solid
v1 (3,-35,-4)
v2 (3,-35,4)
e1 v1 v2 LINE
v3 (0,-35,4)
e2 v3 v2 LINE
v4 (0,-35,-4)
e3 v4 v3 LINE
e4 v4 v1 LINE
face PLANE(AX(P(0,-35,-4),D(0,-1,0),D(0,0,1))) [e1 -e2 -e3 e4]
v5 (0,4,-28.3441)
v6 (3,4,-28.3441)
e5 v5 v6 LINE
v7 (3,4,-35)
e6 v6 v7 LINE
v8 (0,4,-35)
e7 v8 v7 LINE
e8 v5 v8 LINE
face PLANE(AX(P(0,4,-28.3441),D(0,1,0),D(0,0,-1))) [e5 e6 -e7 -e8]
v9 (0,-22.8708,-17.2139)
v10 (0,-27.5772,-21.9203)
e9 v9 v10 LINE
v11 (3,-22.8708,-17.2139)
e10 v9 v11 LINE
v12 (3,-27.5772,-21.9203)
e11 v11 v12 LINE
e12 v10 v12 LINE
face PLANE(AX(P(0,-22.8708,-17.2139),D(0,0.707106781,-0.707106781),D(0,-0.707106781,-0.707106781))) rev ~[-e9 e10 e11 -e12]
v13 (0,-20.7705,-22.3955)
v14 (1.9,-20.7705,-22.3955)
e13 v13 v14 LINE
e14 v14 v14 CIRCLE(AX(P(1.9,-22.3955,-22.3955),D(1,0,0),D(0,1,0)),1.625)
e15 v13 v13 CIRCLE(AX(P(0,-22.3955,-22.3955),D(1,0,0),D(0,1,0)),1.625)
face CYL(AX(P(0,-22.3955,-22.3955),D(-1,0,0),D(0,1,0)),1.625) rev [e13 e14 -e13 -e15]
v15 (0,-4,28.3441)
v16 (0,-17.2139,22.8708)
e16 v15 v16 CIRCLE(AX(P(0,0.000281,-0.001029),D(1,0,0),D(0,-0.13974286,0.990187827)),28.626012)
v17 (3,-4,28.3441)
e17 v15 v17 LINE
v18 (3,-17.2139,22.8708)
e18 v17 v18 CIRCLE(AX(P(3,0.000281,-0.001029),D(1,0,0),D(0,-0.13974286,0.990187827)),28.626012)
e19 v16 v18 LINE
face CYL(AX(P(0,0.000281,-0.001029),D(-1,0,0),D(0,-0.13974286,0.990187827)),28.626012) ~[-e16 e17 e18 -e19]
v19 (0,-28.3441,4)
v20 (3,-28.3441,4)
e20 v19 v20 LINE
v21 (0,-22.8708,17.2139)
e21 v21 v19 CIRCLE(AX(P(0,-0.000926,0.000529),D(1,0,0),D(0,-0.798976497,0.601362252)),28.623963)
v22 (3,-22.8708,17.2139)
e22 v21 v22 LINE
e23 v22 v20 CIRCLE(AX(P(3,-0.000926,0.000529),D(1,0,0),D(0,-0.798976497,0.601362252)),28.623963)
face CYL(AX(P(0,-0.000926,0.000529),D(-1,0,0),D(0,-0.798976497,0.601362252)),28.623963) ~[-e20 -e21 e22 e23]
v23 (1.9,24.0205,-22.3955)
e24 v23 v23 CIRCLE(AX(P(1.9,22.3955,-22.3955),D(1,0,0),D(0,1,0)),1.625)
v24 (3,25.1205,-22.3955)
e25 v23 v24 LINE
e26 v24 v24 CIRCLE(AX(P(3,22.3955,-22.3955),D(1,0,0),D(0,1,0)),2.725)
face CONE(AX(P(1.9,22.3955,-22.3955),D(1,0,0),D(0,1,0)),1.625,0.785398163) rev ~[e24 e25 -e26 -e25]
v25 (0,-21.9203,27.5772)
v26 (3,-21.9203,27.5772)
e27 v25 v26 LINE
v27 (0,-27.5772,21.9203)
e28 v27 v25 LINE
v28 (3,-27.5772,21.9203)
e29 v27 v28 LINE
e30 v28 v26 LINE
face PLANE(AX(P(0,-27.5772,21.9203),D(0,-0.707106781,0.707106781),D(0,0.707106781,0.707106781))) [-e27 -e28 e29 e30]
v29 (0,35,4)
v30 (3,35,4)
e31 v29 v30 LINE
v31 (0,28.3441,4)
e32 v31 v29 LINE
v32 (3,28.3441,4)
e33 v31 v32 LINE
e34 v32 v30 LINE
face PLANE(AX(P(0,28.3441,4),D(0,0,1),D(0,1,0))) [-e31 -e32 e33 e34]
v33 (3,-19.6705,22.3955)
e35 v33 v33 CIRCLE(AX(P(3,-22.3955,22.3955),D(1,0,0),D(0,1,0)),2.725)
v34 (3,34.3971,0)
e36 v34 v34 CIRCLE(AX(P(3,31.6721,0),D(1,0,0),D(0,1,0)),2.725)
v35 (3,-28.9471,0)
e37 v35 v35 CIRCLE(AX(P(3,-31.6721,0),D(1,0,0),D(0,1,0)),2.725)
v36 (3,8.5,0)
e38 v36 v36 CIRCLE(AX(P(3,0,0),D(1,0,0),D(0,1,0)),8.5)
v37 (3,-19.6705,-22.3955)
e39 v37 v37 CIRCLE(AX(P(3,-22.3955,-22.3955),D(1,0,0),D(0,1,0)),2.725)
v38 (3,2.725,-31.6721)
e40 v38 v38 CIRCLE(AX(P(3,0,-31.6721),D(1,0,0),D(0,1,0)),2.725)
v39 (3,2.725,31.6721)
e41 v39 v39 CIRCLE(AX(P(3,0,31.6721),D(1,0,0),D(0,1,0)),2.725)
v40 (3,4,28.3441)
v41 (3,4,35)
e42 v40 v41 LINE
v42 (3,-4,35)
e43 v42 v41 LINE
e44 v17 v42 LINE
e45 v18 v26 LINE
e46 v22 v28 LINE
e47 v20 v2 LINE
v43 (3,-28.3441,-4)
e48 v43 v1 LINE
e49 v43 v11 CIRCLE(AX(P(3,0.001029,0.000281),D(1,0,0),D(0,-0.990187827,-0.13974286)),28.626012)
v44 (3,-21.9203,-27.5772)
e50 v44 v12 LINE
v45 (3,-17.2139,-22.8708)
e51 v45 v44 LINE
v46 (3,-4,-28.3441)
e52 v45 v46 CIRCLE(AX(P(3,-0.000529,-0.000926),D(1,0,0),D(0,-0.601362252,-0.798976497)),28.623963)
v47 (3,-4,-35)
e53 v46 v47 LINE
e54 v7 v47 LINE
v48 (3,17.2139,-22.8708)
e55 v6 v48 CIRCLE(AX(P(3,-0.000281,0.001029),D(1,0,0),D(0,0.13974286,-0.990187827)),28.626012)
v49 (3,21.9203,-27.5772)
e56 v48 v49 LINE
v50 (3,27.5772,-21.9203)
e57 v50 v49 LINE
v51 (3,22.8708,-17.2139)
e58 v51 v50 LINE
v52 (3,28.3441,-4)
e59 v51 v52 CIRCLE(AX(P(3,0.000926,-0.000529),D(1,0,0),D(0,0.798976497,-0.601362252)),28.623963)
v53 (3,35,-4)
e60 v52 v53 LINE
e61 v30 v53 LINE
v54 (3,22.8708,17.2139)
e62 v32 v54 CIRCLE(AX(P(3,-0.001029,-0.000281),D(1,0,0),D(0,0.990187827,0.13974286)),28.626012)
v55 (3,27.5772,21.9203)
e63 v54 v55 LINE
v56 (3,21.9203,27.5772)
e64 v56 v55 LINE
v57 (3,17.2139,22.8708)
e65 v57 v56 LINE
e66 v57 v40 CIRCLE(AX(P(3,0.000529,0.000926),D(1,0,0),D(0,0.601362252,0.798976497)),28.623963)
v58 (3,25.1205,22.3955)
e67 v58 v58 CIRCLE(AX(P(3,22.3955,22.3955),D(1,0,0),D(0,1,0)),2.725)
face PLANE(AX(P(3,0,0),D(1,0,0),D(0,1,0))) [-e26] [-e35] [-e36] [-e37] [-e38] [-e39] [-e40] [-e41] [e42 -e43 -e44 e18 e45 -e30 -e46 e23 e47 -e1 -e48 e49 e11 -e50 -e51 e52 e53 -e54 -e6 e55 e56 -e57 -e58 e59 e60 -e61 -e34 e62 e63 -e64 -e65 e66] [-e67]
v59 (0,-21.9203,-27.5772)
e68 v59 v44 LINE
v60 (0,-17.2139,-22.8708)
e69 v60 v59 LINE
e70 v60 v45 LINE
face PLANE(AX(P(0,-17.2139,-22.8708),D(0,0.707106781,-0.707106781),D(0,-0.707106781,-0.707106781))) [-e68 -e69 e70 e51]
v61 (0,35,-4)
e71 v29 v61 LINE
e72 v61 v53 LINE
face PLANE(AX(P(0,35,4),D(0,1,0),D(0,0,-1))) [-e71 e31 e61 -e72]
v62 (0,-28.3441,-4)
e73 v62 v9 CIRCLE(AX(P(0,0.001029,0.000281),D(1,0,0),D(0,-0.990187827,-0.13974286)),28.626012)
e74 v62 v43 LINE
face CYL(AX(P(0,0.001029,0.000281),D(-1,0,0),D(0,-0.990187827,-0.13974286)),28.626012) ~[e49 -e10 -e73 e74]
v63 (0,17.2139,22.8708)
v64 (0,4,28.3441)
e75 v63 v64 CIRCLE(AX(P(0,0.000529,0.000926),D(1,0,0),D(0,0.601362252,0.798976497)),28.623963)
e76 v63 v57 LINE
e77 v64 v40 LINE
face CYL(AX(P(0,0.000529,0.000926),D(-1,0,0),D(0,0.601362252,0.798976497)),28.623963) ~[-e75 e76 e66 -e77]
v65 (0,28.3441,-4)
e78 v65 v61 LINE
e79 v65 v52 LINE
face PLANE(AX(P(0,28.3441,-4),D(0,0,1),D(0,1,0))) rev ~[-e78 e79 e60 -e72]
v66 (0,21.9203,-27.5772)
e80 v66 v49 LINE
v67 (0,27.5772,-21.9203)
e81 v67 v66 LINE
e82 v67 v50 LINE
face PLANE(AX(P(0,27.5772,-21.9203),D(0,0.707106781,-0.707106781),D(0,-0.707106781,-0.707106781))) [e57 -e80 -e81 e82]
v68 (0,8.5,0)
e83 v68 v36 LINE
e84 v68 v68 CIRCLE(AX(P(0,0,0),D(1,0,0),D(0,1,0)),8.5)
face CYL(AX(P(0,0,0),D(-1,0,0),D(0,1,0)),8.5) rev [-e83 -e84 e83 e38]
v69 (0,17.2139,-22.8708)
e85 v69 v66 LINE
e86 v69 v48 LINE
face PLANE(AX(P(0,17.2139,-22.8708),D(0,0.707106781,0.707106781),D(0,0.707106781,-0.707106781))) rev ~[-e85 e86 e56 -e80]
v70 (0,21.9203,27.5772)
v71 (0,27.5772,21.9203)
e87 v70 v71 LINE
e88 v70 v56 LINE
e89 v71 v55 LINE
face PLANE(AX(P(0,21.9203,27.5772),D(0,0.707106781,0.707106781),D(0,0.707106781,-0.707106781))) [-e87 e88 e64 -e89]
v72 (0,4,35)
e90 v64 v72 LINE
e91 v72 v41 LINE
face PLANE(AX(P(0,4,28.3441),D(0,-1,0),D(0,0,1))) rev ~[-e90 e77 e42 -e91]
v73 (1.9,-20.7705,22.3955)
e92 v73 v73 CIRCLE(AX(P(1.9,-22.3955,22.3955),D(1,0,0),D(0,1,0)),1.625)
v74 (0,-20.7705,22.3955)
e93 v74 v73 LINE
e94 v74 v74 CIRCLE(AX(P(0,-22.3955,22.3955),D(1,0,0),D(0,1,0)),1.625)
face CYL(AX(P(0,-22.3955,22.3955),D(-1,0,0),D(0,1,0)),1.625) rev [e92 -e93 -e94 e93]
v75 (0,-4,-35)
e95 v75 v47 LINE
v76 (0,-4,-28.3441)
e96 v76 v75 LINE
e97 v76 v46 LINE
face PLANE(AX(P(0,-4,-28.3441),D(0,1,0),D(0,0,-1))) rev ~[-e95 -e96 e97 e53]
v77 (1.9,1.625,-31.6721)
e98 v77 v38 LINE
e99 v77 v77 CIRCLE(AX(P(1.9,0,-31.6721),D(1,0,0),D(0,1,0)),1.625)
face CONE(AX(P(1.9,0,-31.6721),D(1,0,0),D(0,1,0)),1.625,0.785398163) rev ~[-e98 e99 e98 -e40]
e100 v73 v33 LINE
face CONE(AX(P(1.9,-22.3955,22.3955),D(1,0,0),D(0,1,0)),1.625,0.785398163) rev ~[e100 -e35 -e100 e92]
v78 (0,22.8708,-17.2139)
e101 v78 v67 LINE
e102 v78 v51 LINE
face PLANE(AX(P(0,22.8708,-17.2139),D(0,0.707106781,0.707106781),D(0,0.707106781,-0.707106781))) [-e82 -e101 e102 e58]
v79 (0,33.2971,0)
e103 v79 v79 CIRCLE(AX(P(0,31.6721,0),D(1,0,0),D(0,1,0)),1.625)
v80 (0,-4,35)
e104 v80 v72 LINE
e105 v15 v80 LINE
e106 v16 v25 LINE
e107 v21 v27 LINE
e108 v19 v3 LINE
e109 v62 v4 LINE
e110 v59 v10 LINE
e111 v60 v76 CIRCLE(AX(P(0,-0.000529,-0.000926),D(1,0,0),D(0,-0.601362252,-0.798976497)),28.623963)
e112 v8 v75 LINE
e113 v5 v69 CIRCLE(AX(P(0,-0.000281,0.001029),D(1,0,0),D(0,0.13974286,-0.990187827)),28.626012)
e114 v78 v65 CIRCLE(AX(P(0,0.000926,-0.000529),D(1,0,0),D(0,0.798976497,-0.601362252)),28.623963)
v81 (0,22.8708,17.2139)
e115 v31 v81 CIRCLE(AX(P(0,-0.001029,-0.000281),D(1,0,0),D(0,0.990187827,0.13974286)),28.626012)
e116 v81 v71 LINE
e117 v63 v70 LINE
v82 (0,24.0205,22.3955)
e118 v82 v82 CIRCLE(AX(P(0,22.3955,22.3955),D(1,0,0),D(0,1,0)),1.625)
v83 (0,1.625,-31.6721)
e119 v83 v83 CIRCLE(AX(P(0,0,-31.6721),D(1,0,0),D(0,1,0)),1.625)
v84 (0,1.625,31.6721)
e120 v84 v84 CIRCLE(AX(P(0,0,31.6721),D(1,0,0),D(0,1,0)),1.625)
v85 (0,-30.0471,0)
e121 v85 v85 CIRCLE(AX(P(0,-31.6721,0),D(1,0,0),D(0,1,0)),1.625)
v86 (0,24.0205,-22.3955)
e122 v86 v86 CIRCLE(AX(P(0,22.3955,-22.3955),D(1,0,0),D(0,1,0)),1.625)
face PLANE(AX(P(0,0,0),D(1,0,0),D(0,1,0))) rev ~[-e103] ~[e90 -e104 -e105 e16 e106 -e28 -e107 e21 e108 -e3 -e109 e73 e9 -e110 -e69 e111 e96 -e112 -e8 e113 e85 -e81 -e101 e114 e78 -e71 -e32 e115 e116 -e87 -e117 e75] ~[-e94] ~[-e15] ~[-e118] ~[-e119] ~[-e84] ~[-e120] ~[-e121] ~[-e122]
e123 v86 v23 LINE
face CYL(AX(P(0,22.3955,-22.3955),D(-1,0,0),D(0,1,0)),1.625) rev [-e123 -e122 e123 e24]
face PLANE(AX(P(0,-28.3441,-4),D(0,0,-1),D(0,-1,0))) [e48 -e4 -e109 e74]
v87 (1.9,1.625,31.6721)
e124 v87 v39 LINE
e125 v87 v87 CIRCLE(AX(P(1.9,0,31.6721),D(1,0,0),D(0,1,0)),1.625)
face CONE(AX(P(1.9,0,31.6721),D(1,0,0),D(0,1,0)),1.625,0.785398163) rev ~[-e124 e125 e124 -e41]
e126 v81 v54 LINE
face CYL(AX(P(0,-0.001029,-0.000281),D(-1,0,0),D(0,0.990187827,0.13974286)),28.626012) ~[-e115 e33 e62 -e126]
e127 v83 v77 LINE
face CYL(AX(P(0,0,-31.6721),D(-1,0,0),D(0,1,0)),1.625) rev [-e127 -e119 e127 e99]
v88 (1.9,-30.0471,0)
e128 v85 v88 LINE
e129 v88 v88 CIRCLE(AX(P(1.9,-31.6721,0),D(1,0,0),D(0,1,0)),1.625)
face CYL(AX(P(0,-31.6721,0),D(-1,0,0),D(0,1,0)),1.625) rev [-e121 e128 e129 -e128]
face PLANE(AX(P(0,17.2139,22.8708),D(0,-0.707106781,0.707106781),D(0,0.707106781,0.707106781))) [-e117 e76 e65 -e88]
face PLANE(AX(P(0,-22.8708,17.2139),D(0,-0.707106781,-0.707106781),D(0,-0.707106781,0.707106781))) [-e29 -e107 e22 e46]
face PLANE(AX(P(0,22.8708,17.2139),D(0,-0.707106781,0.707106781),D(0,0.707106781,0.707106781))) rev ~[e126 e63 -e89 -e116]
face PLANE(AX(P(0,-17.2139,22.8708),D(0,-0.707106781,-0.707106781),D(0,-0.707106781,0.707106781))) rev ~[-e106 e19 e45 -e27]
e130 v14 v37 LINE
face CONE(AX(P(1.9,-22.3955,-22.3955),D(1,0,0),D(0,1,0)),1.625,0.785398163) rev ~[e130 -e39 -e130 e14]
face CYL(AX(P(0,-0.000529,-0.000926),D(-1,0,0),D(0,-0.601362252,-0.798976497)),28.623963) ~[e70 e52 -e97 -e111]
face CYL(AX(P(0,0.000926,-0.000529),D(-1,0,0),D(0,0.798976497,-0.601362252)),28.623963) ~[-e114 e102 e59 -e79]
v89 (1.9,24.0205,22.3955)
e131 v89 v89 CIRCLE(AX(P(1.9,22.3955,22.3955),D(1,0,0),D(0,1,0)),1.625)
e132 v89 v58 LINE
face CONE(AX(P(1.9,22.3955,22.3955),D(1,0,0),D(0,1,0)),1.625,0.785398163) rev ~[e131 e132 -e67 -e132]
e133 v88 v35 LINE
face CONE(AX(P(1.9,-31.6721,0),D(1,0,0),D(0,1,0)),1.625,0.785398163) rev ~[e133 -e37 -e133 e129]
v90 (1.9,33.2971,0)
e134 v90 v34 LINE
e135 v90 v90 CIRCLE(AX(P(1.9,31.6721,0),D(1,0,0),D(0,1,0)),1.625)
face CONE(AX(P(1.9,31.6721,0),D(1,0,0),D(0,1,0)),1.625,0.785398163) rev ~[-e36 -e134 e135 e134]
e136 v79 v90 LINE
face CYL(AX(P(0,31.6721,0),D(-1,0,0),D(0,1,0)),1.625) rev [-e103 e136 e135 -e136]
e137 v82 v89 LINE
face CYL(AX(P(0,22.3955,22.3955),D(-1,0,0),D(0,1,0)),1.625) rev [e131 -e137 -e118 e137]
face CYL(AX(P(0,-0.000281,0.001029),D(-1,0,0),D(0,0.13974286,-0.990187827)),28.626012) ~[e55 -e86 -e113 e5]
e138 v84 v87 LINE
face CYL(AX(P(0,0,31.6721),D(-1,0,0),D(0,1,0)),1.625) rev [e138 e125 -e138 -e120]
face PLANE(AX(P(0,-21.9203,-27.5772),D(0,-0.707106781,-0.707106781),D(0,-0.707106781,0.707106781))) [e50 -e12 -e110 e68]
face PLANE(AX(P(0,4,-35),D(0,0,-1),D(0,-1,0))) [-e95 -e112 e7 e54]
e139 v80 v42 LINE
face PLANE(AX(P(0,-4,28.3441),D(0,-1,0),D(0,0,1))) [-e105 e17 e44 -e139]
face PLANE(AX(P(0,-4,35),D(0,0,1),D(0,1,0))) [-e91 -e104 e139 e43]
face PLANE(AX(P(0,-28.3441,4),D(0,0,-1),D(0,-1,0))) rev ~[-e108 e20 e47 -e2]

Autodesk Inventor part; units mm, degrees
ref_plane "YZ Plane" through (0, 0, 0) normal (1, 0, 0) x (0, 1, 0)
ref_plane "XZ Plane" through (0, 0, 0) normal (0, 1, 0) x (-1, 0, 0)
ref_plane "XY Plane" through (0, 0, 0) normal (0, 0, 1) x (1, 0, 0)
sketch "Sketch1" plane through (0, 0, 0) normal (1, 0, 0) x (0, 1, 0)
  circle A0 centre (0, 0) radius 8.5
  line L0 (28.3441, -4) -> (35, -4)
  line L1 (35, 4) -> (35, -4)
  line L2 (28.3441, 4) -> (35, 4)
  circle A1 centre (31.6721, 0) radius 1.625
  line L3 (17.2139, 22.8708) -> (21.9203, 27.5772)
  line L4 (21.9203, 27.5772) -> (27.5772, 21.9203)
  circle A2 centre (22.3955, 22.3955) radius 1.625
  line L5 (22.8708, 17.2139) -> (27.5772, 21.9203)
  line L6 (-4, 28.3441) -> (-4, 35)
  line L7 (-4, 35) -> (4, 35)
  circle A3 centre (0, 31.6721) radius 1.625
  line L8 (4, 28.3441) -> (4, 35)
  line L9 (-22.8708, 17.2139) -> (-27.5772, 21.9203)
  line L10 (-27.5772, 21.9203) -> (-21.9203, 27.5772)
  circle A4 centre (-22.3955, 22.3955) radius 1.625
  line L11 (-17.2139, 22.8708) -> (-21.9203, 27.5772)
  line L12 (-28.3441, -4) -> (-35, -4)
  line L13 (-35, -4) -> (-35, 4)
  circle A5 centre (-31.6721, 0) radius 1.625
  line L14 (-28.3441, 4) -> (-35, 4)
  line L15 (-17.2139, -22.8708) -> (-21.9203, -27.5772)
  line L16 (-21.9203, -27.5772) -> (-27.5772, -21.9203)
  circle A6 centre (-22.3955, -22.3955) radius 1.625
  line L17 (-22.8708, -17.2139) -> (-27.5772, -21.9203)
  line L18 (4, -28.3441) -> (4, -35)
  line L19 (4, -35) -> (-4, -35)
  circle A7 centre (0, -31.6721) radius 1.625
  line L20 (-4, -28.3441) -> (-4, -35)
  line L21 (22.8708, -17.2139) -> (27.5772, -21.9203)
  line L22 (27.5772, -21.9203) -> (21.9203, -27.5772)
  circle A8 centre (22.3955, -22.3955) radius 1.625
  line L23 (17.2139, -22.8708) -> (21.9203, -27.5772)
  arc A9 (22.8708, -17.2139) -> (28.3441, -4) centre (0, 0) ccw
  arc A10 (4, -28.3441) -> (17.2139, -22.8708) centre (0, 0) ccw
  arc A11 (-17.2139, -22.8708) -> (-4, -28.3441) centre (0, 0) ccw
  arc A12 (-28.3441, -4) -> (-22.8708, -17.2139) centre (0, 0) ccw
  arc A13 (-22.8708, 17.2139) -> (-28.3441, 4) centre (0, 0) ccw
  arc A14 (-4, 28.3441) -> (-17.2139, 22.8708) centre (0, 0) ccw
  arc A15 (28.3441, 4) -> (22.8708, 17.2139) centre (0, 0) ccw
  arc A16 (17.2139, 22.8708) -> (4, 28.3441) centre (0, 0) ccw
  dimension "d0" = 17
  dimension "d8" = 360
  dimension "d12" = 3.25
extrude "Extrusion1" add sketch "Sketch1" along normal blind 3
sketch "Sketch2" plane through (3, 0, 0) normal (1, 0, 0) x (0, 0, -1)
  line L0 (-5.2542, 23.7941) -> (-5.2542, 26.8421)
  line L1 (-5.2542, 26.8421) -> (-2.9174, 26.8421)
  line L2 (-2.9174, 26.8421) -> (-2.9174, 26.5373)
  line L3 (-2.9174, 26.5373) -> (-4.9494, 26.5373)
  line L4 (-4.9494, 26.5373) -> (-4.9494, 25.5721)
  line L5 (-4.9494, 25.5721) -> (-2.9174, 25.5721)
  line L6 (-2.9174, 25.5721) -> (-2.9174, 25.2673)
  line L7 (-2.9174, 25.2673) -> (-4.9494, 25.2673)
  line L8 (-4.9494, 25.2673) -> (-4.9494, 23.7941)
  line L9 (-4.9494, 23.7941) -> (-5.2542, 23.7941)
  line L10 (-5.2034, 23.8449) -> (-5.2034, 26.7913)
  line L11 (-5.2034, 26.7913) -> (-2.9682, 26.7913)
  line L12 (-2.9682, 26.7913) -> (-2.9682, 26.5881)
  line L13 (-2.9682, 26.5881) -> (-5.0002, 26.5881)
  line L14 (-5.0002, 26.5881) -> (-5.0002, 25.5213)
  line L15 (-5.0002, 25.5213) -> (-2.9682, 25.5213)
  line L16 (-2.9682, 25.5213) -> (-2.9682, 25.3181)
  line L17 (-2.9682, 25.3181) -> (-5.0002, 25.3181)
  line L18 (-5.0002, 25.3181) -> (-5.0002, 23.8449)
  line L19 (-5.0002, 23.8449) -> (-5.2034, 23.8449)
  line L20 (-5.1526, 23.8957) -> (-5.1526, 26.7405)
  line L21 (-5.1526, 26.7405) -> (-3.019, 26.7405)
  line L22 (-3.019, 26.7405) -> (-3.019, 26.6389)
  line L23 (-3.019, 26.6389) -> (-5.051, 26.6389)
  line L24 (-5.051, 26.6389) -> (-5.051, 25.4705)
  line L25 (-5.051, 25.4705) -> (-3.019, 25.4705)
  line L26 (-3.019, 25.4705) -> (-3.019, 25.3689)
  line L27 (-3.019, 25.3689) -> (-5.051, 25.3689)
  line L28 (-5.051, 25.3689) -> (-5.051, 23.8957)
  line L29 (-5.051, 23.8957) -> (-5.1526, 23.8957)
  line L30 (-5.1018, 23.9465) -> (-5.1018, 26.6897)
  line L31 (-5.1018, 26.6897) -> (-3.0698, 26.6897)
  line L32 (-3.0698, 25.4197) -> (-5.1018, 25.4197)
  line L33 (-2.511, 23.7941) -> (-2.511, 26.0293)
  line L34 (-2.511, 26.0293) -> (-2.2062, 26.0293)
  line L35 (-2.2062, 26.0293) -> (-2.2062, 25.6737)
  arc A0 (-1.3889, 26.0291) -> (-2.2062, 25.6737) centre (-1.3889, 24.9115) ccw
  line L36 (-1.3889, 26.0291) -> (-1.0841, 26.0291)
  line L37 (-1.0841, 26.0291) -> (-1.0841, 25.7243)
  line L38 (-1.0841, 25.7243) -> (-1.3889, 25.7243)
  arc A1 (-1.3889, 25.7243) -> (-2.2017, 24.9115) centre (-1.3889, 24.9115) ccw
  line L39 (-2.2017, 24.9115) -> (-2.2017, 23.7939)
  line L40 (-2.2017, 23.7939) -> (-2.5065, 23.7939)
  line L41 (-2.4557, 23.8447) -> (-2.4557, 24.9115)
  arc A2 (-1.3889, 25.9783) -> (-2.4557, 24.9115) centre (-1.3889, 24.9115) ccw
  line L42 (-1.3889, 25.9783) -> (-1.1349, 25.9783)
  line L43 (-1.1349, 25.9783) -> (-1.1349, 25.7751)
  line L44 (-1.1349, 25.7751) -> (-1.3889, 25.7751)
  arc A3 (-1.3889, 25.7751) -> (-2.2525, 24.9115) centre (-1.3889, 24.9115) ccw
  line L45 (-2.2525, 24.9115) -> (-2.2525, 23.8447)
  line L46 (-2.2525, 23.8447) -> (-2.4557, 23.8447)
  line L47 (-2.4049, 23.8955) -> (-2.4049, 24.9115)
  arc A4 (-1.3889, 25.9275) -> (-2.4049, 24.9115) centre (-1.3889, 24.9115) ccw
  line L48 (-1.3889, 25.9275) -> (-1.1857, 25.9275)
  line L49 (-1.1857, 25.9275) -> (-1.1857, 25.8259)
  line L50 (-1.1857, 25.8259) -> (-1.3889, 25.8259)
  arc A5 (-1.3889, 25.8259) -> (-2.3033, 24.9115) centre (-1.3889, 24.9115) ccw
  line L51 (-2.3033, 24.9115) -> (-2.3033, 23.8955)
  line L52 (-2.3033, 23.8955) -> (-2.4049, 23.8955)
  line L53 (-2.3541, 23.9463) -> (-2.3541, 24.9115)
  arc A6 (-1.3889, 25.8767) -> (-2.3541, 24.9115) centre (-1.3889, 24.9115) ccw
  line L54 (-1.3889, 25.8767) -> (-1.2365, 25.8767)
  line L55 (-2.4557, 24.9115) -> (-2.4557, 25.9783)
  line L56 (-2.4557, 25.9783) -> (-2.2525, 25.9783)
  line L57 (-2.2525, 25.9783) -> (-2.2525, 25.5211)
  line L58 (-2.3033, 25.4703) -> (-2.3033, 25.9275)
  line L59 (-2.3033, 25.9275) -> (-2.4049, 25.9275)
  line L60 (-2.4049, 25.9275) -> (-2.4049, 25.2163)
  line L61 (-2.3541, 25.3687) -> (-2.3541, 25.8767)
  circle A7 centre (0.4399, 24.9115) radius 1.1176
  circle A8 centre (0.4399, 24.9115) radius 0.8128
  circle A9 centre (0.4399, 24.9115) radius 0.8636
  circle A10 centre (0.4399, 24.9115) radius 0.9144
  circle A11 centre (0.4399, 24.9115) radius 0.9652
  circle A12 centre (0.4399, 24.9115) radius 1.016
  circle A13 centre (0.4399, 24.9115) radius 1.0668
  line L62 (1.9639, 23.7939) -> (1.9639, 26.0291)
  line L63 (1.9639, 26.0291) -> (2.2687, 26.0291)
  line L64 (2.2687, 26.0291) -> (2.2687, 25.8005)
  arc A14 (3.795, 25.121) -> (2.2687, 25.8005) centre (2.8806, 25.121) ccw
  line L65 (3.795, 25.121) -> (3.795, 23.8002)
  line L66 (3.795, 23.8002) -> (3.4902, 23.8002)
  line L67 (3.4902, 23.8002) -> (3.4902, 25.121)
  arc A15 (3.4902, 25.121) -> (2.271, 25.121) centre (2.8806, 25.121) ccw
  line L68 (2.271, 25.121) -> (2.271, 23.8002)
  line L69 (2.271, 23.8002) -> (1.9662, 23.8002)
  line L70 (2.017, 23.851) -> (2.017, 25.121)
  arc A16 (3.7442, 25.121) -> (2.017, 25.121) centre (2.8806, 25.121) ccw
  line L71 (3.7442, 25.121) -> (3.7442, 23.851)
  line L72 (3.7442, 23.851) -> (3.541, 23.851)
  line L73 (3.541, 23.851) -> (3.541, 25.121)
  arc A17 (3.541, 25.121) -> (2.2202, 25.121) centre (2.8806, 25.121) ccw
  line L74 (2.2202, 25.121) -> (2.2202, 23.851)
  line L75 (2.2202, 23.851) -> (2.017, 23.851)
  line L76 (2.0678, 23.9018) -> (2.0678, 25.121)
  arc A18 (3.6934, 25.121) -> (2.0678, 25.121) centre (2.8806, 25.121) ccw
  line L77 (3.6934, 25.121) -> (3.6934, 23.9018)
  line L78 (3.6934, 23.9018) -> (3.5918, 23.9018)
  line L79 (3.5918, 23.9018) -> (3.5918, 25.121)
  arc A19 (3.5918, 25.121) -> (2.1694, 25.121) centre (2.8806, 25.121) ccw
  line L80 (2.1694, 25.121) -> (2.1694, 23.9018)
  line L81 (2.1694, 23.9018) -> (2.0678, 23.9018)
  line L82 (2.1186, 23.9526) -> (2.1186, 25.121)
  arc A20 (3.6426, 25.121) -> (2.1186, 25.121) centre (2.8806, 25.121) ccw
  line L83 (3.6426, 25.121) -> (3.6426, 23.9526)
  line L84 (2.017, 25.121) -> (2.017, 25.9846)
  line L85 (2.017, 25.9846) -> (2.2202, 25.9846)
  line L86 (2.2202, 25.9846) -> (2.2202, 25.6798)
  line L87 (2.1694, 25.629) -> (2.1694, 25.9338)
  line L88 (2.1694, 25.9338) -> (2.0678, 25.9338)
  line L89 (2.0678, 25.9338) -> (2.0678, 25.375)
  line L90 (2.1186, 25.5274) -> (2.1186, 25.883)
  arc A21 (4.4554, 24.2066) -> (4.8618, 23.8002) centre (4.8618, 24.2066) ccw
  line L91 (4.4554, 24.2066) -> (4.4554, 25.7306)
  line L92 (4.4554, 25.7306) -> (4.1506, 25.7306)
  line L93 (4.1506, 25.7306) -> (4.1506, 26.0354)
  line L94 (4.1506, 26.0354) -> (4.4554, 26.0354)
  line L95 (4.4554, 26.0354) -> (4.4554, 26.8482)
  line L96 (4.4554, 26.8482) -> (4.7602, 26.8482)
  line L97 (4.7602, 26.8482) -> (4.7602, 26.0354)
  line L98 (4.7602, 26.0354) -> (5.065, 26.0354)
  line L99 (5.065, 26.0354) -> (5.065, 25.7306)
  line L100 (5.065, 25.7306) -> (4.7602, 25.7306)
  line L101 (4.7602, 25.7306) -> (4.7602, 24.2066)
  arc A22 (4.7602, 24.2066) -> (4.8618, 24.105) centre (4.8618, 24.2066) ccw
  line L102 (4.8618, 24.105) -> (5.065, 24.105)
  line L103 (5.065, 24.105) -> (5.065, 23.8002)
  line L104 (5.065, 23.8002) -> (4.8618, 23.8002)
  arc A23 (4.5062, 24.2066) -> (4.8618, 23.851) centre (4.8618, 24.2066) ccw
  line L105 (4.5062, 24.2066) -> (4.5062, 25.7814)
  line L106 (4.5062, 25.7814) -> (4.2014, 25.7814)
  line L107 (4.2014, 25.7814) -> (4.2014, 25.9846)
  line L108 (4.2014, 25.9846) -> (4.5062, 25.9846)
  line L109 (4.5062, 25.9846) -> (4.5062, 26.7974)
  line L110 (4.5062, 26.7974) -> (4.7094, 26.7974)
  line L111 (4.7094, 26.7974) -> (4.7094, 25.9846)
  line L112 (4.7094, 25.9846) -> (5.0142, 25.9846)
  line L113 (5.0142, 25.9846) -> (5.0142, 25.7814)
  line L114 (5.0142, 25.7814) -> (4.7094, 25.7814)
  line L115 (4.7094, 25.7814) -> (4.7094, 24.2066)
  arc A24 (4.7094, 24.2066) -> (4.8618, 24.0542) centre (4.8618, 24.2066) ccw
  line L116 (4.8618, 24.0542) -> (5.0142, 24.0542)
  line L117 (5.0142, 24.0542) -> (5.0142, 23.851)
  line L118 (5.0142, 23.851) -> (4.8618, 23.851)
  arc A25 (4.557, 24.2066) -> (4.8618, 23.9018) centre (4.8618, 24.2066) ccw
  line L119 (4.557, 24.2066) -> (4.557, 25.8322)
  line L120 (4.557, 25.8322) -> (4.2522, 25.8322)
  line L121 (4.2522, 25.8322) -> (4.2522, 25.9338)
  line L122 (4.2522, 25.9338) -> (4.557, 25.9338)
  line L123 (4.557, 25.9338) -> (4.557, 26.7466)
  line L124 (4.557, 26.7466) -> (4.6586, 26.7466)
  line L125 (4.6586, 26.7466) -> (4.6586, 25.9338)
  line L126 (4.6586, 25.9338) -> (4.9634, 25.9338)
  line L127 (4.9634, 25.9338) -> (4.9634, 25.8322)
  line L128 (4.9634, 25.8322) -> (4.6586, 25.8322)
  line L129 (4.6586, 25.8322) -> (4.6586, 24.2066)
  arc A26 (4.6586, 24.2066) -> (4.8618, 24.0034) centre (4.8618, 24.2066) ccw
  line L130 (4.8618, 24.0034) -> (4.9634, 24.0034)
  line L131 (4.9634, 24.0034) -> (4.9634, 23.9018)
  line L132 (4.9634, 23.9018) -> (4.8618, 23.9018)
  line L133 (4.9126, 23.9526) -> (4.8618, 23.9526)
  arc A27 (4.6078, 24.2066) -> (4.8618, 23.9526) centre (4.8618, 24.2066) ccw
  line L134 (4.6078, 24.2066) -> (4.6078, 26.6958)
  line L135 (4.303, 25.883) -> (4.9126, 25.883)
  point P0 (0, 0)
  point P1 (-2.2525, 25.5378)
extrude "Extrusion2" [suppressed]
chamfer "Chamfer1" distance 1.1 angle 45 8 edges at (3, 30.0471, 0) (3, 20.7705, -22.3955) (3, -1.625, -31.6721) (3, -24.0205, -22.3955) (3, -33.2971, 0) (3, -24.0205, 22.3955) (3, -1.625, 31.6721) (3, 20.7705, 22.3955)
properties part number "Gear_Box_Chasis_Divider" material "ABS Plastic"
